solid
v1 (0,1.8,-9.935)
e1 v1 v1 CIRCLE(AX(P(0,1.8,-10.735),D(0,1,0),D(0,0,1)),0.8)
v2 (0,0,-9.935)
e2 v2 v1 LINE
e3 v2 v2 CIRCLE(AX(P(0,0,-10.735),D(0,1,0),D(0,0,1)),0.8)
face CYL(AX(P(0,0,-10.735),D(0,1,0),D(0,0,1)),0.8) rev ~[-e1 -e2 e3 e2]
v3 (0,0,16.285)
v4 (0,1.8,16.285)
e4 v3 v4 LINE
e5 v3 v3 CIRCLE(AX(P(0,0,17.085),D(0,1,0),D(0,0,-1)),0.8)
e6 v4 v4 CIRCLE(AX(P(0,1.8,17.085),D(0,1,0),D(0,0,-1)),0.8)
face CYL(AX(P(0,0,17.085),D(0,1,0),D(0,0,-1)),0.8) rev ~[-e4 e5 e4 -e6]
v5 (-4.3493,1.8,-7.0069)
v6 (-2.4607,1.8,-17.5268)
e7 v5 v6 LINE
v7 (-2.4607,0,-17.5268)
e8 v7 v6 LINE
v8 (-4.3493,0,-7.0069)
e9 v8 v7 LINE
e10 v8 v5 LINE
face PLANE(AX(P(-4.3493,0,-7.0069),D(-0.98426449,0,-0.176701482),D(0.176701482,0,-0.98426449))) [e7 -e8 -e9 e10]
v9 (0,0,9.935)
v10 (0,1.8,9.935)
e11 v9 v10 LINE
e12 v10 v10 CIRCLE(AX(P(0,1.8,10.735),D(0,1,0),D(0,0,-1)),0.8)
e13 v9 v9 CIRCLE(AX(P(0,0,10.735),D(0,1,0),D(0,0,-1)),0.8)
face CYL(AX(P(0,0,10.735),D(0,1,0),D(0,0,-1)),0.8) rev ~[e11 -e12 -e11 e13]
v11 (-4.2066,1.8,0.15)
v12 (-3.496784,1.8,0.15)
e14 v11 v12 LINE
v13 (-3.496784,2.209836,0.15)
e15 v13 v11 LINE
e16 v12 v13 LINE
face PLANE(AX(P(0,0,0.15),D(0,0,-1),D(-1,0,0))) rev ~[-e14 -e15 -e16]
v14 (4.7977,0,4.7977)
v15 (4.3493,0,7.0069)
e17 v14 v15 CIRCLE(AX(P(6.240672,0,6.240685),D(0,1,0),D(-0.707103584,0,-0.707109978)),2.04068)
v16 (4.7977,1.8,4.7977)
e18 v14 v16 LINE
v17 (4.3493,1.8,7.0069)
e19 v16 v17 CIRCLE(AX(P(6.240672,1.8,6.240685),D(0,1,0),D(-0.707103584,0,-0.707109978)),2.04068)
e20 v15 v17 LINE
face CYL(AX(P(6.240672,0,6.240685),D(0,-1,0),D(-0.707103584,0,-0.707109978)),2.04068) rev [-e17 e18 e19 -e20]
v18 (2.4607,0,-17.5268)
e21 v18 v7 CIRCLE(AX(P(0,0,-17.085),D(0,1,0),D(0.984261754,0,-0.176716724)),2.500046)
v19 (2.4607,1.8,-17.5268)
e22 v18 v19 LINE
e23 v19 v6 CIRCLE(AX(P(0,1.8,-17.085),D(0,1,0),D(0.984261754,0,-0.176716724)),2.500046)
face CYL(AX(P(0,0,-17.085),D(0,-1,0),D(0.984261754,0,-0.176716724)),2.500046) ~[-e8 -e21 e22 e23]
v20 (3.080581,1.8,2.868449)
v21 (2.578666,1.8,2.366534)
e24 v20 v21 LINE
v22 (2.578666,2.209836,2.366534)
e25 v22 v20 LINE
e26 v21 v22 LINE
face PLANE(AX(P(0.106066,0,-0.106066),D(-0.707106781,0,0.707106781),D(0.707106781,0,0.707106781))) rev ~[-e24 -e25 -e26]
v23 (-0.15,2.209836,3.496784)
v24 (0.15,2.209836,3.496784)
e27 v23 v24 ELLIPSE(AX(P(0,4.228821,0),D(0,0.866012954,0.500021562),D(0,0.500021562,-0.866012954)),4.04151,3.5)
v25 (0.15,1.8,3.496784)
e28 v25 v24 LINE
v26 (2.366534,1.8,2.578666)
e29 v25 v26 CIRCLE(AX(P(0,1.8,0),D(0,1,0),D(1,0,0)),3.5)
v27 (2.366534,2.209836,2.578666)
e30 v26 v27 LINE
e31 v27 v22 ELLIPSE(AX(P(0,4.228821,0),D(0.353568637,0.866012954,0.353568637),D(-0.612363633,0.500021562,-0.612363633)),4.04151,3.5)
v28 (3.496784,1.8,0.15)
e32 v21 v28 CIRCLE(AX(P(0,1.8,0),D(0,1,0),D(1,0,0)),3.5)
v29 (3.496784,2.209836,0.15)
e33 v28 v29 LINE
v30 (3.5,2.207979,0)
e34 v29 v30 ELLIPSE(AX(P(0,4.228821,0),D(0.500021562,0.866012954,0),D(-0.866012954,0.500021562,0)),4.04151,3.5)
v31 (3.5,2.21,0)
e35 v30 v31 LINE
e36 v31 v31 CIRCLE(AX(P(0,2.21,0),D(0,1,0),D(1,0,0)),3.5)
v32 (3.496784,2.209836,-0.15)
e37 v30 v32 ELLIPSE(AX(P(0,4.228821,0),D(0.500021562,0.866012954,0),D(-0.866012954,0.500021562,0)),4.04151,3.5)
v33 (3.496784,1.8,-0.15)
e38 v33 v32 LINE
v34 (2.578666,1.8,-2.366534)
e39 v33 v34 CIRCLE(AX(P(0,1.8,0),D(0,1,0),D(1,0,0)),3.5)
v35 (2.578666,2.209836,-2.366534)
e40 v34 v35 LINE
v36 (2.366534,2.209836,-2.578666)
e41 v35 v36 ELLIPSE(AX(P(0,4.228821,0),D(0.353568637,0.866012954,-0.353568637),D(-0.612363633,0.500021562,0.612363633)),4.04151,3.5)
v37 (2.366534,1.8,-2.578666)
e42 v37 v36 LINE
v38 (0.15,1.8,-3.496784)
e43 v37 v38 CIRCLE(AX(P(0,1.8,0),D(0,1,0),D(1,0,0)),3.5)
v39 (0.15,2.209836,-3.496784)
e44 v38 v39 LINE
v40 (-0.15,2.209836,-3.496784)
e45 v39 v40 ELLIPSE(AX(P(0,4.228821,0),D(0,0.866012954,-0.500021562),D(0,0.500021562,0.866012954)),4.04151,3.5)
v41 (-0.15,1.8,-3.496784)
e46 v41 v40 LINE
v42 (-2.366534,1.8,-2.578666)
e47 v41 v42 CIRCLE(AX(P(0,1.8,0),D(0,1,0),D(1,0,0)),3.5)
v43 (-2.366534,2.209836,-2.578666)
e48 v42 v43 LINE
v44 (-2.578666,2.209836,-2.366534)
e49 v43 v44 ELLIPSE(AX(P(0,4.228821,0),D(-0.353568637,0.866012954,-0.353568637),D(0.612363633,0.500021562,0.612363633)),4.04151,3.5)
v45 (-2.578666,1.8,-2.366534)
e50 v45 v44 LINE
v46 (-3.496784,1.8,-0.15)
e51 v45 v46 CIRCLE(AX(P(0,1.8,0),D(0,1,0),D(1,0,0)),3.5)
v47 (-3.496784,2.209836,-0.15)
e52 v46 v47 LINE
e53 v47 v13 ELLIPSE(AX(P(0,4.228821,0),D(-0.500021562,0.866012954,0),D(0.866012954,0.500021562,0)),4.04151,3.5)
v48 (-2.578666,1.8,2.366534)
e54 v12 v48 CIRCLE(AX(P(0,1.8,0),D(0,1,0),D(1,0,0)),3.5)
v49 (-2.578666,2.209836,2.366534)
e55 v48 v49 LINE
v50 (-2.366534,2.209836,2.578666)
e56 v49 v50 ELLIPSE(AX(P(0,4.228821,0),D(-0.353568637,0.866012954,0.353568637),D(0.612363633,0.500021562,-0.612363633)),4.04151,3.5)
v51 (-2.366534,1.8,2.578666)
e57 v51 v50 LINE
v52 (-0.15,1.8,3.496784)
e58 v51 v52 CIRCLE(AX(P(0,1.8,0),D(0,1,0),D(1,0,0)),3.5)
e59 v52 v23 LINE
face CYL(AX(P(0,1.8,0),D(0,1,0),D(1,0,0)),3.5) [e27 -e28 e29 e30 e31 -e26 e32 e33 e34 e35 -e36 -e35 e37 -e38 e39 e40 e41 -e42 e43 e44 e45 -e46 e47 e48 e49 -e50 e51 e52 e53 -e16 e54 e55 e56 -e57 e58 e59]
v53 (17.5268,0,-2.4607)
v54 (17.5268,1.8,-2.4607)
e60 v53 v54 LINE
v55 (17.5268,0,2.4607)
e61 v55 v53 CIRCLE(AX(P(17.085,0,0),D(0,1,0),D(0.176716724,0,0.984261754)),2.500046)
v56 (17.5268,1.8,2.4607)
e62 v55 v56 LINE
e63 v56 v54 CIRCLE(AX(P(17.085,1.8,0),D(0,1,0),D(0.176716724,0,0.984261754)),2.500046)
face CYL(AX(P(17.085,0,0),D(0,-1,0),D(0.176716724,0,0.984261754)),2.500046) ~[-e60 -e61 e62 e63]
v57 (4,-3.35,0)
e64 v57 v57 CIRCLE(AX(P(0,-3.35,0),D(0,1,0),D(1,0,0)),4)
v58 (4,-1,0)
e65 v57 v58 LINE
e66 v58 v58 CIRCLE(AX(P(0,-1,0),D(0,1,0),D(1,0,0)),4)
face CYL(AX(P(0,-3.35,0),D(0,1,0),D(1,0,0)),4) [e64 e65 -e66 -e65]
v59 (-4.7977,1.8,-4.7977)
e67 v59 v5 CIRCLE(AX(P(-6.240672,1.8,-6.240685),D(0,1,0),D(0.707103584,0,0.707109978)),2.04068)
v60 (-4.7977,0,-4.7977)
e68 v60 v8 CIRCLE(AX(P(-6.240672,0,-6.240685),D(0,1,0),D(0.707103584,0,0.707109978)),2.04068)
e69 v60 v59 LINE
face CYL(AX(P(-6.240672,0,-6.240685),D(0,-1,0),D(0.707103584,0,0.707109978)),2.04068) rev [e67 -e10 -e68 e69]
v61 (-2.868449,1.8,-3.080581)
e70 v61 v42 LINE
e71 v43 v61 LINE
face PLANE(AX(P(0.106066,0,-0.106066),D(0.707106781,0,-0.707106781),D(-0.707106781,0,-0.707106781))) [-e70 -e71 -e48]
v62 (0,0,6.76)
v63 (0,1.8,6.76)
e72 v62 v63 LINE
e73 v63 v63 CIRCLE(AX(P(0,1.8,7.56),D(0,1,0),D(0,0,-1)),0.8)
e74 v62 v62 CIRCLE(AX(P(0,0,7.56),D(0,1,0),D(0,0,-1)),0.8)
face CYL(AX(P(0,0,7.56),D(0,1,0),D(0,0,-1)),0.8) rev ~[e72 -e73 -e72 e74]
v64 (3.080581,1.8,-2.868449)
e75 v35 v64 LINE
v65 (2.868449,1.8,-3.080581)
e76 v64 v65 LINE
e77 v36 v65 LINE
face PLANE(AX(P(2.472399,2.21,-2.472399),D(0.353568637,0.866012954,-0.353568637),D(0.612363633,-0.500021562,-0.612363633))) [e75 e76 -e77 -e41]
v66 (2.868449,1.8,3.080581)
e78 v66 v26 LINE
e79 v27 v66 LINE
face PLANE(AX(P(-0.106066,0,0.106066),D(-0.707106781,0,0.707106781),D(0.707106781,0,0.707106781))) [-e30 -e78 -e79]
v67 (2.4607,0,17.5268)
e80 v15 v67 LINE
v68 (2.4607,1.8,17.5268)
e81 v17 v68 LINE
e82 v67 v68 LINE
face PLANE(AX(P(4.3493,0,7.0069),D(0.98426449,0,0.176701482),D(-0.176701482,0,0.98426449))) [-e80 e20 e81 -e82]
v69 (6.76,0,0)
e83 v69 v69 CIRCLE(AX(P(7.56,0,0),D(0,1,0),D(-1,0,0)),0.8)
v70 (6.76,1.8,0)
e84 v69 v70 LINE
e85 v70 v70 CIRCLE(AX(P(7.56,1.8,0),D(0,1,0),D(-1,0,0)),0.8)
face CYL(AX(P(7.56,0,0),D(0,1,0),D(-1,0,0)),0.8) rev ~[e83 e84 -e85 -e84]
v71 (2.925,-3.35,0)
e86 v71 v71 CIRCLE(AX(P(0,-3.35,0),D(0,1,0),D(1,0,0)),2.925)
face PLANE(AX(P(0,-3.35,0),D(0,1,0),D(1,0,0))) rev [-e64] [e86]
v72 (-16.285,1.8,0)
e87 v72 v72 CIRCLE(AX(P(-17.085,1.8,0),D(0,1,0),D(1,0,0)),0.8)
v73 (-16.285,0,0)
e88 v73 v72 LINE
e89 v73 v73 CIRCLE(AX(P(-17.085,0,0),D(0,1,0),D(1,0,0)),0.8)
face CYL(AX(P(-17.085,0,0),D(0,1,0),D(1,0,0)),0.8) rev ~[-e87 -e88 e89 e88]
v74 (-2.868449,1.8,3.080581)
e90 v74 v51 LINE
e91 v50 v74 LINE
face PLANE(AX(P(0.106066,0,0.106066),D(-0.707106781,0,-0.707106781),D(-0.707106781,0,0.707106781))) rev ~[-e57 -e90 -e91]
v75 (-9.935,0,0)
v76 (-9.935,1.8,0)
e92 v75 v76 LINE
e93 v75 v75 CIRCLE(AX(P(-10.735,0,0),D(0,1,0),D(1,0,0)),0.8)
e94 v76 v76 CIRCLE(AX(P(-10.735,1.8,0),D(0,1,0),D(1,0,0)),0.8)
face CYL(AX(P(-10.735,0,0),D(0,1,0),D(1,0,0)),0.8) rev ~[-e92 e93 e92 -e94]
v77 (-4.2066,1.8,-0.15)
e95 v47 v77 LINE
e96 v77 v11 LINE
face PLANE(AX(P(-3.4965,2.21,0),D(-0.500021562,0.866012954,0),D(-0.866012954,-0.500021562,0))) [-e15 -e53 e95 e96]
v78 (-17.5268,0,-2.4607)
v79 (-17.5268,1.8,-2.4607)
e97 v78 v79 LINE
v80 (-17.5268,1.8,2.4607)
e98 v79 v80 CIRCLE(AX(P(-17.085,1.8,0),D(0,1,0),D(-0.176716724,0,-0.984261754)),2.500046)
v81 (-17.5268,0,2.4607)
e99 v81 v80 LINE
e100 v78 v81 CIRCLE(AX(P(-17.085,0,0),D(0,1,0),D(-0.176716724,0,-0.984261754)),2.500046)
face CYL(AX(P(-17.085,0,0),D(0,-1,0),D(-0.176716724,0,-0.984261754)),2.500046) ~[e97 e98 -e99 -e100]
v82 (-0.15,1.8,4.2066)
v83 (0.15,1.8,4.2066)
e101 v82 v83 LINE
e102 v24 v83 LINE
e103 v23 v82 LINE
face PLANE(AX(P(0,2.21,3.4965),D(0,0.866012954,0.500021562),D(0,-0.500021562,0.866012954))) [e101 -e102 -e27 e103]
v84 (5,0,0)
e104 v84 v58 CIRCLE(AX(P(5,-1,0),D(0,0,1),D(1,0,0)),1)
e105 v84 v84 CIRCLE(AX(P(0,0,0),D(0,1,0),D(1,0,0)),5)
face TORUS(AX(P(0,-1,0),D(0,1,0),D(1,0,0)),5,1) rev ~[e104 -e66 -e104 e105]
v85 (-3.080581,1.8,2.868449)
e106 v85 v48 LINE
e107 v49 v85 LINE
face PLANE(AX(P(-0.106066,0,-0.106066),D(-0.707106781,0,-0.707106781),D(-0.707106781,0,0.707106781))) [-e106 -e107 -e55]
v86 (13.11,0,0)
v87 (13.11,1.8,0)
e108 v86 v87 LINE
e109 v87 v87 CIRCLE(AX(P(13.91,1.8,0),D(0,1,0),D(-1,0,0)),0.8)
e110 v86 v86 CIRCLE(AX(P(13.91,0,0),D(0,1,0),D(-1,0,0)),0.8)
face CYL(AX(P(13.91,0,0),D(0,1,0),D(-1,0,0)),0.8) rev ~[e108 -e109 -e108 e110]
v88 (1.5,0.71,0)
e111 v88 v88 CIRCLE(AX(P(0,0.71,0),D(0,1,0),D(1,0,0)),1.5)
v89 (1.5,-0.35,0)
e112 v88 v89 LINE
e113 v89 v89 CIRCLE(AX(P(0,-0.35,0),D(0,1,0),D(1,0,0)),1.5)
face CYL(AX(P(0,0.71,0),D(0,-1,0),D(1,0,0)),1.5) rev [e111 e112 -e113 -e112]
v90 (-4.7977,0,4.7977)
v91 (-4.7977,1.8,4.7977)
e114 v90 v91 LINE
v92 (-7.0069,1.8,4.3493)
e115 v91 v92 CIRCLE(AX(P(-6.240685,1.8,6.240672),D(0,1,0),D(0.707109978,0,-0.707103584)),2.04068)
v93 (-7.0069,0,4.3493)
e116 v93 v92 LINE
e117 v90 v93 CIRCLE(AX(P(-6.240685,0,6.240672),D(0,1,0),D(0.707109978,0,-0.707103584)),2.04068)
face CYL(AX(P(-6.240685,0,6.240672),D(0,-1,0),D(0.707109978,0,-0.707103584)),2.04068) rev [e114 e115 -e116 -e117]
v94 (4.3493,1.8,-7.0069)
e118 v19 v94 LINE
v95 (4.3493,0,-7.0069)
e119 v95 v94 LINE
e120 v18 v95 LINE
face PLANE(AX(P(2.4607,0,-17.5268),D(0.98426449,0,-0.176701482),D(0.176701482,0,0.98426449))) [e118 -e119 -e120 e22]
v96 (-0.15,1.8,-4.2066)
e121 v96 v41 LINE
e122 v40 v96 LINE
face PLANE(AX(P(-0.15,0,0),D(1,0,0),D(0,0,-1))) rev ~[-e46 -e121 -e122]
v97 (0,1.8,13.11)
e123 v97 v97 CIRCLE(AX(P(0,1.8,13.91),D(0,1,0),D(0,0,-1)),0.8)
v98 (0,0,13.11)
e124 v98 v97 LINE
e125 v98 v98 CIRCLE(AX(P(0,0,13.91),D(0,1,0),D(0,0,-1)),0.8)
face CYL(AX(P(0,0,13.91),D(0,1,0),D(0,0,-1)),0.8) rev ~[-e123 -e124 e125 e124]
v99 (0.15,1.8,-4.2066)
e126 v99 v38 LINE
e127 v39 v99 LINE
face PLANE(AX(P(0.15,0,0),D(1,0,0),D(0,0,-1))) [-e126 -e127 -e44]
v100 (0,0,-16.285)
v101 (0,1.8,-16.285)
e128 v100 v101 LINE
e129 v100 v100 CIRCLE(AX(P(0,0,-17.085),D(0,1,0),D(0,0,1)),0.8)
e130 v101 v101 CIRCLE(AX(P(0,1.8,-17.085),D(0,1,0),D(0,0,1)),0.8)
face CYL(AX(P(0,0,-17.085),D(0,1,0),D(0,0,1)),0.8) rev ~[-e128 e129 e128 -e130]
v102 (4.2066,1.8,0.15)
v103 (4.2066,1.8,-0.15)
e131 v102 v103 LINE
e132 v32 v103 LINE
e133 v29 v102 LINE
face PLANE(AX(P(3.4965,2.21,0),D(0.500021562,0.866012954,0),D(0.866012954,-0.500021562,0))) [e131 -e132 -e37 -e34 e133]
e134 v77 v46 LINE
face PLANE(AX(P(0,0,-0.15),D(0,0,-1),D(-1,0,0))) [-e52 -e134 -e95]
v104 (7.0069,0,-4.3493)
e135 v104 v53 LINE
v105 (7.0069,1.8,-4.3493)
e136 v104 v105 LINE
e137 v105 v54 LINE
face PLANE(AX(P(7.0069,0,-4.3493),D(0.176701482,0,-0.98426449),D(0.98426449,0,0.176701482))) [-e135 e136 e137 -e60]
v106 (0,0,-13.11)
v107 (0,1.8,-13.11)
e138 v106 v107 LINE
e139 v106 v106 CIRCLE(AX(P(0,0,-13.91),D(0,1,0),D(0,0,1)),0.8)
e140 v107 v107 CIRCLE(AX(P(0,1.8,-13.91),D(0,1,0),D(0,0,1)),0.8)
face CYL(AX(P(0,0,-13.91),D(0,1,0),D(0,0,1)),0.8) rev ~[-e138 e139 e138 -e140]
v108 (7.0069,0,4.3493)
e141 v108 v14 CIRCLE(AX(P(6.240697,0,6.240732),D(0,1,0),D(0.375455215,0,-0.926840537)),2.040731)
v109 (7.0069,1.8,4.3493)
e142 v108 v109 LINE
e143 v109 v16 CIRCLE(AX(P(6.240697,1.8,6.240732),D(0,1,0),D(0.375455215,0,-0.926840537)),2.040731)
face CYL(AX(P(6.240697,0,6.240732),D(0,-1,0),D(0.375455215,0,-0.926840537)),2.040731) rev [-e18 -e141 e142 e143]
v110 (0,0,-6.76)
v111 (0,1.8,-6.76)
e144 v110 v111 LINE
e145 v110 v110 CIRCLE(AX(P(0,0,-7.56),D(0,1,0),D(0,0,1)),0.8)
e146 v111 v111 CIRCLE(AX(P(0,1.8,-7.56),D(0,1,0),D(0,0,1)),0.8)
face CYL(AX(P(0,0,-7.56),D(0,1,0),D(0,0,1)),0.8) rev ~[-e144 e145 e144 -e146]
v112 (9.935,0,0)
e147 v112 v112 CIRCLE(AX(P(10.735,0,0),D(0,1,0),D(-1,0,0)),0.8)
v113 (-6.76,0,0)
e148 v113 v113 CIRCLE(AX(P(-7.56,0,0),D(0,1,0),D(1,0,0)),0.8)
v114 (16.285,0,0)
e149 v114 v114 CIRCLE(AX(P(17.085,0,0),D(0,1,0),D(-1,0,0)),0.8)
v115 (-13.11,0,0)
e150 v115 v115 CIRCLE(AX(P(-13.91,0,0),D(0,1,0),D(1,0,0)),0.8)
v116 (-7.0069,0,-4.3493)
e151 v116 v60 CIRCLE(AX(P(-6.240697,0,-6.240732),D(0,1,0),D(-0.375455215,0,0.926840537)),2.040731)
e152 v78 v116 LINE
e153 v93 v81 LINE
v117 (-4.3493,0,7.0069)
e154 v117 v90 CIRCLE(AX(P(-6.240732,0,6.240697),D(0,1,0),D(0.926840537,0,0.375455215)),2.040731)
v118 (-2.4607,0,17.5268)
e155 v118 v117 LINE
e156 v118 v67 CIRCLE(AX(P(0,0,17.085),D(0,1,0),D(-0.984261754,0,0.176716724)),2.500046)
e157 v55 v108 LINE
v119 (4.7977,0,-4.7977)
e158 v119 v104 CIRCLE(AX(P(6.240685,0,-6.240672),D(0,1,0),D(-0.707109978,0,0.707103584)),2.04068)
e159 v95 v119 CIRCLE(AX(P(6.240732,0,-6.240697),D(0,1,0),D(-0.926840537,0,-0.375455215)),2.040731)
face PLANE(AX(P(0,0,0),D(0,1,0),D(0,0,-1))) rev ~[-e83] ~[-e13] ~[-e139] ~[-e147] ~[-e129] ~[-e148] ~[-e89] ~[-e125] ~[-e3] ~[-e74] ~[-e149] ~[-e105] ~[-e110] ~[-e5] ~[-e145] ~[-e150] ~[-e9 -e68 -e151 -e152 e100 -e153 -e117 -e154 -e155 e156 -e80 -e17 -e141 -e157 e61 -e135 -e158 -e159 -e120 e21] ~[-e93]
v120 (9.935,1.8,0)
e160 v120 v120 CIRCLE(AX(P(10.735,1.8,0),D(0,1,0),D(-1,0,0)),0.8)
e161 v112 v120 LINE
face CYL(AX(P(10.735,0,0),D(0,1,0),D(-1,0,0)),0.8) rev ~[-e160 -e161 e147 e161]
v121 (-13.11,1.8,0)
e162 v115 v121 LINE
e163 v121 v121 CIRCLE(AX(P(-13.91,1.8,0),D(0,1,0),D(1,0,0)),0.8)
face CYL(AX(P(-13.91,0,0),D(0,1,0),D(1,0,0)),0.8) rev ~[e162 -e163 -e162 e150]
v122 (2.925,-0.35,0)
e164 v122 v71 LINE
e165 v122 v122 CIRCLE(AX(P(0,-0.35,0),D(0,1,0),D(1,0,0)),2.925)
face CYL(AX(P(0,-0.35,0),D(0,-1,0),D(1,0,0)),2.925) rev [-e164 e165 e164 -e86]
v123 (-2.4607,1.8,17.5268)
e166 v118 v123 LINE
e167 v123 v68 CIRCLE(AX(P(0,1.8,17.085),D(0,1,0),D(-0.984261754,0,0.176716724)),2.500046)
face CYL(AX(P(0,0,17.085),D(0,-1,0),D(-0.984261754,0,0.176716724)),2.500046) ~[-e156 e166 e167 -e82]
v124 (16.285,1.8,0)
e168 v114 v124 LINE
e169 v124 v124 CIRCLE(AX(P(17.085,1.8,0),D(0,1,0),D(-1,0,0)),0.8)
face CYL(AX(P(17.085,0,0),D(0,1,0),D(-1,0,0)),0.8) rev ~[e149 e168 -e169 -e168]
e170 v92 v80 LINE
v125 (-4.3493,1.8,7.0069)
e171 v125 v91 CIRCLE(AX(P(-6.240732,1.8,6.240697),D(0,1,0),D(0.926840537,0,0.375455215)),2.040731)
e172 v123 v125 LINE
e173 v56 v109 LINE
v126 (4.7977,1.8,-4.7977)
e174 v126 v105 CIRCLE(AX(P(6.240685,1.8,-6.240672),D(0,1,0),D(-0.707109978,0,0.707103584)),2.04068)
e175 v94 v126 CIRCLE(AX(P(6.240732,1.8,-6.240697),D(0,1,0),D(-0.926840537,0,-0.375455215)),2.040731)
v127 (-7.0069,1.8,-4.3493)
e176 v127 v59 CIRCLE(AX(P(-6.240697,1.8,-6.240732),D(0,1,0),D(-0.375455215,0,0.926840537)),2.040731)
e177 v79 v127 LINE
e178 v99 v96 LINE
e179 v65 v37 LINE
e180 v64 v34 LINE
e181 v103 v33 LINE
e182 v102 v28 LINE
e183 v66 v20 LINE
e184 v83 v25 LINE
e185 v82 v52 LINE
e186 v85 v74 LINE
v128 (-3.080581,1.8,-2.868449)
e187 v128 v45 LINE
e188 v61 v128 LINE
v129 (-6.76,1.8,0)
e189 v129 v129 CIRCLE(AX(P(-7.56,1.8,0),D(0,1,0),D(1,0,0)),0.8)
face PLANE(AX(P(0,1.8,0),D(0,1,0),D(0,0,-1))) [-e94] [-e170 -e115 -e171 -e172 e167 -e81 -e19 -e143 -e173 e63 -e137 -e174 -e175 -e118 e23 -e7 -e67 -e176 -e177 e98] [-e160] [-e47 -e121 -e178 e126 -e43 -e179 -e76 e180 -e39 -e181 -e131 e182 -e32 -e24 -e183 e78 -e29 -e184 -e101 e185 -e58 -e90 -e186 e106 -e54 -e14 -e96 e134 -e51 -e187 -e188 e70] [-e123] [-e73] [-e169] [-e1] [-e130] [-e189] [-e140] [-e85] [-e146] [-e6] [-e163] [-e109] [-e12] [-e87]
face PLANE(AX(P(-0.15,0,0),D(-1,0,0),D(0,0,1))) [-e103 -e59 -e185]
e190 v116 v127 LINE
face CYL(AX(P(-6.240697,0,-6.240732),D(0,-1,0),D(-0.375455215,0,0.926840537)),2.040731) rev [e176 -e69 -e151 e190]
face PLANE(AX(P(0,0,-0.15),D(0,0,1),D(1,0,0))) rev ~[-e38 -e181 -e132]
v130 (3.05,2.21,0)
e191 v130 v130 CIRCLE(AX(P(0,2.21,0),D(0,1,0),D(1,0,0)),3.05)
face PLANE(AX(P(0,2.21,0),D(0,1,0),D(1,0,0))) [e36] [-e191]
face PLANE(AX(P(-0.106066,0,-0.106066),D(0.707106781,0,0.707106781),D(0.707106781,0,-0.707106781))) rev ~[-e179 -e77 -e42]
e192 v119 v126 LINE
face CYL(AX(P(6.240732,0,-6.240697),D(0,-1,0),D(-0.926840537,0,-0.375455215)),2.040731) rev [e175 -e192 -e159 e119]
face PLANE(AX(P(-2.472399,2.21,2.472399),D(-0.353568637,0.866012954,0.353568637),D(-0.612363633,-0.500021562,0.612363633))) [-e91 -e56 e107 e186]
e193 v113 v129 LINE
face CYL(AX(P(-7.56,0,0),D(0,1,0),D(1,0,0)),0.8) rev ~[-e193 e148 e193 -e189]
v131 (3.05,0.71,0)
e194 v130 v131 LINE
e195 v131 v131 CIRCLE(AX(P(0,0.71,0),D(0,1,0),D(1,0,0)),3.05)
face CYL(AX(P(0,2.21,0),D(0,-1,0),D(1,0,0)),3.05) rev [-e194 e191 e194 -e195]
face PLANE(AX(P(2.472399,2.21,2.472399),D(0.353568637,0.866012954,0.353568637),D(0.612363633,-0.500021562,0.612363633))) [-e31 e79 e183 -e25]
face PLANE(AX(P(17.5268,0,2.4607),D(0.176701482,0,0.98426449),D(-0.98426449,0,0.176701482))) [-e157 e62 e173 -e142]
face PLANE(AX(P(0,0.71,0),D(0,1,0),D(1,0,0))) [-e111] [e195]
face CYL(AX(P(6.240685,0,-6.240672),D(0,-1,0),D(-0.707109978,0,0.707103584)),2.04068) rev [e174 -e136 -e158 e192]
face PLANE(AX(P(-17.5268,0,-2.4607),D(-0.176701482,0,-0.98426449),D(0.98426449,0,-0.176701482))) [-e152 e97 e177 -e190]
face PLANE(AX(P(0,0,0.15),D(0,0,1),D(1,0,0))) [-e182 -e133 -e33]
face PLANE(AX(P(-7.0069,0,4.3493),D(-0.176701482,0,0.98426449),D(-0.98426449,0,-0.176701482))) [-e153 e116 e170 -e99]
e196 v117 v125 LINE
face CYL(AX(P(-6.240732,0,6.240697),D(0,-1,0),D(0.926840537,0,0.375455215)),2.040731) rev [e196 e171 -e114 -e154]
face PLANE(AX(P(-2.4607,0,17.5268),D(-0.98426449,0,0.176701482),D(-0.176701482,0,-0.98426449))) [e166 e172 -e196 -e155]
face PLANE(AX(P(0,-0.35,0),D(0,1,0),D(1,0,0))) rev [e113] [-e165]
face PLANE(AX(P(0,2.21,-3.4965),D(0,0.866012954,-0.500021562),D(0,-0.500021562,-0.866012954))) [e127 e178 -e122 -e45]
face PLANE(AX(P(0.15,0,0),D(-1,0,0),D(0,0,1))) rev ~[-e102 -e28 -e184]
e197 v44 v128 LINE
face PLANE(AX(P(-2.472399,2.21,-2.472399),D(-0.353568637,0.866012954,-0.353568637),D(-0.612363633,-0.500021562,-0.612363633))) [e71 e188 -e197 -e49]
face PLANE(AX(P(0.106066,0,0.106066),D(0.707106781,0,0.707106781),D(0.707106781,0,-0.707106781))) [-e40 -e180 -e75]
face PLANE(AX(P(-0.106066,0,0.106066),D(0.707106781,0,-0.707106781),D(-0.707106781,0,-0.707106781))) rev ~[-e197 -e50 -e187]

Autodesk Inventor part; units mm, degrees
ref_plane "YZ Plane" through (0, 0, 0) normal (1, 0, 0) x (0, 1, 0)
ref_plane "XZ Plane" through (0, 0, 0) normal (0, 1, 0) x (-1, 0, 0)
ref_plane "XY Plane" through (0, 0, 0) normal (0, 0, 1) x (1, 0, 0)
sketch "Sketch1" plane through (0, 0, 0) normal (0, 0, 1) x (1, 0, 0)
  line L0 (0, -4.462) -> (0, 3.322) projected
  line L1 (3.05, 2.21) -> (3.05, 0.71)
  line L2 (3.05, 0.71) -> (1.5, 0.71)
  line L3 (1.5, 0.71) -> (1.5, -0.35)
  line L4 (1.5, -0.35) -> (2.925, -0.35)
  line L5 (2.925, -0.35) -> (2.925, -3.35)
  line L6 (2.925, -3.35) -> (4, -3.35)
  line L7 (4, -3.35) -> (4, 0)
  line L8 (4, 0) -> (6, 0)
  line L9 (6, 0) -> (6, 1.8)
  line L10 (6, 1.8) -> (3.5, 1.8)
  line L11 (3.5, 1.8) -> (3.5, 2.21)
  line L12 (3.5, 2.21) -> (3.05, 2.21)
  line L13 (-1.2, 0) -> (7.2, 0) construction
  point P0 (0, 0)
  dimension "d1" = 5.85
  dimension "d2" = 3
  dimension "d3" = 5.56
  dimension "d4" = 1.5
  dimension "d5" = 6.1
  dimension "d6" = 7
  dimension "d7" = 8
  dimension "d8" = 1.8
  dimension "d9" = 3.35
  dimension "d10" = 12
  dimension "d20" = 3
revolve "Revolution1" add sketch "Sketch1" angle 360 about axis through (0, -10, 0) along (0, 1, 0)
fillet "Fillet1" radius 1 1 edges at (-4, 0, 0)
sketch "Sketch2" plane through (0, 0, 0) normal (0, 0, 1) x (1, 0, 0)
  line L0 (-3.05, 2.21) -> (3.05, 2.21) construction
  line L1 (-3.5, 2.21) -> (3.5, 2.21) construction
  line L2 (-3.5, 1.8) -> (3.5, 1.8) construction
  line L3 (-6, 1.8) -> (6, 1.8) construction
  line L4 (3.4965, 2.21) -> (4.2066, 1.8)
  line L5 (4.2066, 1.8) -> (3.4965, 1.8)
  line L6 (3.4965, 1.8) -> (3.4965, 2.21)
  point P0 (0, 0)
  dimension "d13" = 0.0035
  dimension "d14" = 60
extrude "Extrusion1" add sketch "Sketch2" along normal mid plane 0.3
pattern_circular "Circular Pattern1" count 8 over 360 about axis through (0, -10, 0) along (0, 1, 0) of "Extrusion1"
sketch "Sketch3" plane through (0, 0, 0) normal (0, 1, 0) x (-1, 0, 0)
  line L0 (-4.3493, 7.0069) -> (-2.4607, 17.5268)
  arc A0 (2.4607, 17.5268) -> (-2.4607, 17.5268) centre (0, 17.085) ccw
  line L1 (2.4607, 17.5268) -> (4.3493, 7.0069)
  line L2 (8.4, 0) -> (-8.4, 0) construction
  line L3 (0, -10.4993) -> (0, 20.9956) construction
  line L4 (-4.25, 7.56) -> (4.25, 7.56) construction
  arc A1 (3.9598, 3.9598) -> (-3.9598, 3.9598) centre (0, 0) ccw
  arc A2 (4.3493, 7.0069) -> (4.7977, 4.7977) centre (6.2407, 6.2407) ccw
  arc A3 (-4.7977, 4.7977) -> (-4.3493, 7.0069) centre (-6.2407, 6.2407) ccw
  line L5 (0, 0) -> (6.2407, 6.2407) construction
  line L6 (3.6956, 5.8998) -> (6.4334, 3.1621) construction
  line L7 (-4.2, 7.1075) -> (-4.2, 5.2789) construction
  line L8 (4.2, 7.1509) -> (4.2, 5.2556) construction
  line L9 (4.7977, 4.7977) -> (3.9598, 3.9598)
  line L10 (-4.7977, 4.7977) -> (-3.9598, 3.9598)
  point P0 (0, 7.56)
  point P1 (0, 13.91)
  point P2 (0, 10.735)
  dimension "d21" = 17.085
  dimension "d22" = 5
  dimension "d23" = 9.525
  dimension "d25" = 8.5
  dimension "d26" = 5.6
  dimension "d29" = 3.175
  dimension "d30" = 3.175
  dimension "d38" = 45
  dimension "d40" = 6.785
  dimension "d41" = 8.4
extrude "Extrusion2" add sketch "Sketch3" along normal up to surface (1.8 mm away)
hole "Hole1" at (0, 0, 7.56) at (0, 0, 17.085) at (0, 0, 13.91) at (0, 0, 10.735) direction (0, 1, 0) diameter 1.6 end through all
pattern_circular "Circular Pattern2" count 4 over 360 about axis through (0, -10, 0) along (0, 1, 0) of "Extrusion2", "Hole1"
equation "\"d29\" = 0.333333 * d23"
equation "\"d30\" = d29"
properties part number "4-PRONG SERVO ARM ONYX" material "Nylon 6/6"
